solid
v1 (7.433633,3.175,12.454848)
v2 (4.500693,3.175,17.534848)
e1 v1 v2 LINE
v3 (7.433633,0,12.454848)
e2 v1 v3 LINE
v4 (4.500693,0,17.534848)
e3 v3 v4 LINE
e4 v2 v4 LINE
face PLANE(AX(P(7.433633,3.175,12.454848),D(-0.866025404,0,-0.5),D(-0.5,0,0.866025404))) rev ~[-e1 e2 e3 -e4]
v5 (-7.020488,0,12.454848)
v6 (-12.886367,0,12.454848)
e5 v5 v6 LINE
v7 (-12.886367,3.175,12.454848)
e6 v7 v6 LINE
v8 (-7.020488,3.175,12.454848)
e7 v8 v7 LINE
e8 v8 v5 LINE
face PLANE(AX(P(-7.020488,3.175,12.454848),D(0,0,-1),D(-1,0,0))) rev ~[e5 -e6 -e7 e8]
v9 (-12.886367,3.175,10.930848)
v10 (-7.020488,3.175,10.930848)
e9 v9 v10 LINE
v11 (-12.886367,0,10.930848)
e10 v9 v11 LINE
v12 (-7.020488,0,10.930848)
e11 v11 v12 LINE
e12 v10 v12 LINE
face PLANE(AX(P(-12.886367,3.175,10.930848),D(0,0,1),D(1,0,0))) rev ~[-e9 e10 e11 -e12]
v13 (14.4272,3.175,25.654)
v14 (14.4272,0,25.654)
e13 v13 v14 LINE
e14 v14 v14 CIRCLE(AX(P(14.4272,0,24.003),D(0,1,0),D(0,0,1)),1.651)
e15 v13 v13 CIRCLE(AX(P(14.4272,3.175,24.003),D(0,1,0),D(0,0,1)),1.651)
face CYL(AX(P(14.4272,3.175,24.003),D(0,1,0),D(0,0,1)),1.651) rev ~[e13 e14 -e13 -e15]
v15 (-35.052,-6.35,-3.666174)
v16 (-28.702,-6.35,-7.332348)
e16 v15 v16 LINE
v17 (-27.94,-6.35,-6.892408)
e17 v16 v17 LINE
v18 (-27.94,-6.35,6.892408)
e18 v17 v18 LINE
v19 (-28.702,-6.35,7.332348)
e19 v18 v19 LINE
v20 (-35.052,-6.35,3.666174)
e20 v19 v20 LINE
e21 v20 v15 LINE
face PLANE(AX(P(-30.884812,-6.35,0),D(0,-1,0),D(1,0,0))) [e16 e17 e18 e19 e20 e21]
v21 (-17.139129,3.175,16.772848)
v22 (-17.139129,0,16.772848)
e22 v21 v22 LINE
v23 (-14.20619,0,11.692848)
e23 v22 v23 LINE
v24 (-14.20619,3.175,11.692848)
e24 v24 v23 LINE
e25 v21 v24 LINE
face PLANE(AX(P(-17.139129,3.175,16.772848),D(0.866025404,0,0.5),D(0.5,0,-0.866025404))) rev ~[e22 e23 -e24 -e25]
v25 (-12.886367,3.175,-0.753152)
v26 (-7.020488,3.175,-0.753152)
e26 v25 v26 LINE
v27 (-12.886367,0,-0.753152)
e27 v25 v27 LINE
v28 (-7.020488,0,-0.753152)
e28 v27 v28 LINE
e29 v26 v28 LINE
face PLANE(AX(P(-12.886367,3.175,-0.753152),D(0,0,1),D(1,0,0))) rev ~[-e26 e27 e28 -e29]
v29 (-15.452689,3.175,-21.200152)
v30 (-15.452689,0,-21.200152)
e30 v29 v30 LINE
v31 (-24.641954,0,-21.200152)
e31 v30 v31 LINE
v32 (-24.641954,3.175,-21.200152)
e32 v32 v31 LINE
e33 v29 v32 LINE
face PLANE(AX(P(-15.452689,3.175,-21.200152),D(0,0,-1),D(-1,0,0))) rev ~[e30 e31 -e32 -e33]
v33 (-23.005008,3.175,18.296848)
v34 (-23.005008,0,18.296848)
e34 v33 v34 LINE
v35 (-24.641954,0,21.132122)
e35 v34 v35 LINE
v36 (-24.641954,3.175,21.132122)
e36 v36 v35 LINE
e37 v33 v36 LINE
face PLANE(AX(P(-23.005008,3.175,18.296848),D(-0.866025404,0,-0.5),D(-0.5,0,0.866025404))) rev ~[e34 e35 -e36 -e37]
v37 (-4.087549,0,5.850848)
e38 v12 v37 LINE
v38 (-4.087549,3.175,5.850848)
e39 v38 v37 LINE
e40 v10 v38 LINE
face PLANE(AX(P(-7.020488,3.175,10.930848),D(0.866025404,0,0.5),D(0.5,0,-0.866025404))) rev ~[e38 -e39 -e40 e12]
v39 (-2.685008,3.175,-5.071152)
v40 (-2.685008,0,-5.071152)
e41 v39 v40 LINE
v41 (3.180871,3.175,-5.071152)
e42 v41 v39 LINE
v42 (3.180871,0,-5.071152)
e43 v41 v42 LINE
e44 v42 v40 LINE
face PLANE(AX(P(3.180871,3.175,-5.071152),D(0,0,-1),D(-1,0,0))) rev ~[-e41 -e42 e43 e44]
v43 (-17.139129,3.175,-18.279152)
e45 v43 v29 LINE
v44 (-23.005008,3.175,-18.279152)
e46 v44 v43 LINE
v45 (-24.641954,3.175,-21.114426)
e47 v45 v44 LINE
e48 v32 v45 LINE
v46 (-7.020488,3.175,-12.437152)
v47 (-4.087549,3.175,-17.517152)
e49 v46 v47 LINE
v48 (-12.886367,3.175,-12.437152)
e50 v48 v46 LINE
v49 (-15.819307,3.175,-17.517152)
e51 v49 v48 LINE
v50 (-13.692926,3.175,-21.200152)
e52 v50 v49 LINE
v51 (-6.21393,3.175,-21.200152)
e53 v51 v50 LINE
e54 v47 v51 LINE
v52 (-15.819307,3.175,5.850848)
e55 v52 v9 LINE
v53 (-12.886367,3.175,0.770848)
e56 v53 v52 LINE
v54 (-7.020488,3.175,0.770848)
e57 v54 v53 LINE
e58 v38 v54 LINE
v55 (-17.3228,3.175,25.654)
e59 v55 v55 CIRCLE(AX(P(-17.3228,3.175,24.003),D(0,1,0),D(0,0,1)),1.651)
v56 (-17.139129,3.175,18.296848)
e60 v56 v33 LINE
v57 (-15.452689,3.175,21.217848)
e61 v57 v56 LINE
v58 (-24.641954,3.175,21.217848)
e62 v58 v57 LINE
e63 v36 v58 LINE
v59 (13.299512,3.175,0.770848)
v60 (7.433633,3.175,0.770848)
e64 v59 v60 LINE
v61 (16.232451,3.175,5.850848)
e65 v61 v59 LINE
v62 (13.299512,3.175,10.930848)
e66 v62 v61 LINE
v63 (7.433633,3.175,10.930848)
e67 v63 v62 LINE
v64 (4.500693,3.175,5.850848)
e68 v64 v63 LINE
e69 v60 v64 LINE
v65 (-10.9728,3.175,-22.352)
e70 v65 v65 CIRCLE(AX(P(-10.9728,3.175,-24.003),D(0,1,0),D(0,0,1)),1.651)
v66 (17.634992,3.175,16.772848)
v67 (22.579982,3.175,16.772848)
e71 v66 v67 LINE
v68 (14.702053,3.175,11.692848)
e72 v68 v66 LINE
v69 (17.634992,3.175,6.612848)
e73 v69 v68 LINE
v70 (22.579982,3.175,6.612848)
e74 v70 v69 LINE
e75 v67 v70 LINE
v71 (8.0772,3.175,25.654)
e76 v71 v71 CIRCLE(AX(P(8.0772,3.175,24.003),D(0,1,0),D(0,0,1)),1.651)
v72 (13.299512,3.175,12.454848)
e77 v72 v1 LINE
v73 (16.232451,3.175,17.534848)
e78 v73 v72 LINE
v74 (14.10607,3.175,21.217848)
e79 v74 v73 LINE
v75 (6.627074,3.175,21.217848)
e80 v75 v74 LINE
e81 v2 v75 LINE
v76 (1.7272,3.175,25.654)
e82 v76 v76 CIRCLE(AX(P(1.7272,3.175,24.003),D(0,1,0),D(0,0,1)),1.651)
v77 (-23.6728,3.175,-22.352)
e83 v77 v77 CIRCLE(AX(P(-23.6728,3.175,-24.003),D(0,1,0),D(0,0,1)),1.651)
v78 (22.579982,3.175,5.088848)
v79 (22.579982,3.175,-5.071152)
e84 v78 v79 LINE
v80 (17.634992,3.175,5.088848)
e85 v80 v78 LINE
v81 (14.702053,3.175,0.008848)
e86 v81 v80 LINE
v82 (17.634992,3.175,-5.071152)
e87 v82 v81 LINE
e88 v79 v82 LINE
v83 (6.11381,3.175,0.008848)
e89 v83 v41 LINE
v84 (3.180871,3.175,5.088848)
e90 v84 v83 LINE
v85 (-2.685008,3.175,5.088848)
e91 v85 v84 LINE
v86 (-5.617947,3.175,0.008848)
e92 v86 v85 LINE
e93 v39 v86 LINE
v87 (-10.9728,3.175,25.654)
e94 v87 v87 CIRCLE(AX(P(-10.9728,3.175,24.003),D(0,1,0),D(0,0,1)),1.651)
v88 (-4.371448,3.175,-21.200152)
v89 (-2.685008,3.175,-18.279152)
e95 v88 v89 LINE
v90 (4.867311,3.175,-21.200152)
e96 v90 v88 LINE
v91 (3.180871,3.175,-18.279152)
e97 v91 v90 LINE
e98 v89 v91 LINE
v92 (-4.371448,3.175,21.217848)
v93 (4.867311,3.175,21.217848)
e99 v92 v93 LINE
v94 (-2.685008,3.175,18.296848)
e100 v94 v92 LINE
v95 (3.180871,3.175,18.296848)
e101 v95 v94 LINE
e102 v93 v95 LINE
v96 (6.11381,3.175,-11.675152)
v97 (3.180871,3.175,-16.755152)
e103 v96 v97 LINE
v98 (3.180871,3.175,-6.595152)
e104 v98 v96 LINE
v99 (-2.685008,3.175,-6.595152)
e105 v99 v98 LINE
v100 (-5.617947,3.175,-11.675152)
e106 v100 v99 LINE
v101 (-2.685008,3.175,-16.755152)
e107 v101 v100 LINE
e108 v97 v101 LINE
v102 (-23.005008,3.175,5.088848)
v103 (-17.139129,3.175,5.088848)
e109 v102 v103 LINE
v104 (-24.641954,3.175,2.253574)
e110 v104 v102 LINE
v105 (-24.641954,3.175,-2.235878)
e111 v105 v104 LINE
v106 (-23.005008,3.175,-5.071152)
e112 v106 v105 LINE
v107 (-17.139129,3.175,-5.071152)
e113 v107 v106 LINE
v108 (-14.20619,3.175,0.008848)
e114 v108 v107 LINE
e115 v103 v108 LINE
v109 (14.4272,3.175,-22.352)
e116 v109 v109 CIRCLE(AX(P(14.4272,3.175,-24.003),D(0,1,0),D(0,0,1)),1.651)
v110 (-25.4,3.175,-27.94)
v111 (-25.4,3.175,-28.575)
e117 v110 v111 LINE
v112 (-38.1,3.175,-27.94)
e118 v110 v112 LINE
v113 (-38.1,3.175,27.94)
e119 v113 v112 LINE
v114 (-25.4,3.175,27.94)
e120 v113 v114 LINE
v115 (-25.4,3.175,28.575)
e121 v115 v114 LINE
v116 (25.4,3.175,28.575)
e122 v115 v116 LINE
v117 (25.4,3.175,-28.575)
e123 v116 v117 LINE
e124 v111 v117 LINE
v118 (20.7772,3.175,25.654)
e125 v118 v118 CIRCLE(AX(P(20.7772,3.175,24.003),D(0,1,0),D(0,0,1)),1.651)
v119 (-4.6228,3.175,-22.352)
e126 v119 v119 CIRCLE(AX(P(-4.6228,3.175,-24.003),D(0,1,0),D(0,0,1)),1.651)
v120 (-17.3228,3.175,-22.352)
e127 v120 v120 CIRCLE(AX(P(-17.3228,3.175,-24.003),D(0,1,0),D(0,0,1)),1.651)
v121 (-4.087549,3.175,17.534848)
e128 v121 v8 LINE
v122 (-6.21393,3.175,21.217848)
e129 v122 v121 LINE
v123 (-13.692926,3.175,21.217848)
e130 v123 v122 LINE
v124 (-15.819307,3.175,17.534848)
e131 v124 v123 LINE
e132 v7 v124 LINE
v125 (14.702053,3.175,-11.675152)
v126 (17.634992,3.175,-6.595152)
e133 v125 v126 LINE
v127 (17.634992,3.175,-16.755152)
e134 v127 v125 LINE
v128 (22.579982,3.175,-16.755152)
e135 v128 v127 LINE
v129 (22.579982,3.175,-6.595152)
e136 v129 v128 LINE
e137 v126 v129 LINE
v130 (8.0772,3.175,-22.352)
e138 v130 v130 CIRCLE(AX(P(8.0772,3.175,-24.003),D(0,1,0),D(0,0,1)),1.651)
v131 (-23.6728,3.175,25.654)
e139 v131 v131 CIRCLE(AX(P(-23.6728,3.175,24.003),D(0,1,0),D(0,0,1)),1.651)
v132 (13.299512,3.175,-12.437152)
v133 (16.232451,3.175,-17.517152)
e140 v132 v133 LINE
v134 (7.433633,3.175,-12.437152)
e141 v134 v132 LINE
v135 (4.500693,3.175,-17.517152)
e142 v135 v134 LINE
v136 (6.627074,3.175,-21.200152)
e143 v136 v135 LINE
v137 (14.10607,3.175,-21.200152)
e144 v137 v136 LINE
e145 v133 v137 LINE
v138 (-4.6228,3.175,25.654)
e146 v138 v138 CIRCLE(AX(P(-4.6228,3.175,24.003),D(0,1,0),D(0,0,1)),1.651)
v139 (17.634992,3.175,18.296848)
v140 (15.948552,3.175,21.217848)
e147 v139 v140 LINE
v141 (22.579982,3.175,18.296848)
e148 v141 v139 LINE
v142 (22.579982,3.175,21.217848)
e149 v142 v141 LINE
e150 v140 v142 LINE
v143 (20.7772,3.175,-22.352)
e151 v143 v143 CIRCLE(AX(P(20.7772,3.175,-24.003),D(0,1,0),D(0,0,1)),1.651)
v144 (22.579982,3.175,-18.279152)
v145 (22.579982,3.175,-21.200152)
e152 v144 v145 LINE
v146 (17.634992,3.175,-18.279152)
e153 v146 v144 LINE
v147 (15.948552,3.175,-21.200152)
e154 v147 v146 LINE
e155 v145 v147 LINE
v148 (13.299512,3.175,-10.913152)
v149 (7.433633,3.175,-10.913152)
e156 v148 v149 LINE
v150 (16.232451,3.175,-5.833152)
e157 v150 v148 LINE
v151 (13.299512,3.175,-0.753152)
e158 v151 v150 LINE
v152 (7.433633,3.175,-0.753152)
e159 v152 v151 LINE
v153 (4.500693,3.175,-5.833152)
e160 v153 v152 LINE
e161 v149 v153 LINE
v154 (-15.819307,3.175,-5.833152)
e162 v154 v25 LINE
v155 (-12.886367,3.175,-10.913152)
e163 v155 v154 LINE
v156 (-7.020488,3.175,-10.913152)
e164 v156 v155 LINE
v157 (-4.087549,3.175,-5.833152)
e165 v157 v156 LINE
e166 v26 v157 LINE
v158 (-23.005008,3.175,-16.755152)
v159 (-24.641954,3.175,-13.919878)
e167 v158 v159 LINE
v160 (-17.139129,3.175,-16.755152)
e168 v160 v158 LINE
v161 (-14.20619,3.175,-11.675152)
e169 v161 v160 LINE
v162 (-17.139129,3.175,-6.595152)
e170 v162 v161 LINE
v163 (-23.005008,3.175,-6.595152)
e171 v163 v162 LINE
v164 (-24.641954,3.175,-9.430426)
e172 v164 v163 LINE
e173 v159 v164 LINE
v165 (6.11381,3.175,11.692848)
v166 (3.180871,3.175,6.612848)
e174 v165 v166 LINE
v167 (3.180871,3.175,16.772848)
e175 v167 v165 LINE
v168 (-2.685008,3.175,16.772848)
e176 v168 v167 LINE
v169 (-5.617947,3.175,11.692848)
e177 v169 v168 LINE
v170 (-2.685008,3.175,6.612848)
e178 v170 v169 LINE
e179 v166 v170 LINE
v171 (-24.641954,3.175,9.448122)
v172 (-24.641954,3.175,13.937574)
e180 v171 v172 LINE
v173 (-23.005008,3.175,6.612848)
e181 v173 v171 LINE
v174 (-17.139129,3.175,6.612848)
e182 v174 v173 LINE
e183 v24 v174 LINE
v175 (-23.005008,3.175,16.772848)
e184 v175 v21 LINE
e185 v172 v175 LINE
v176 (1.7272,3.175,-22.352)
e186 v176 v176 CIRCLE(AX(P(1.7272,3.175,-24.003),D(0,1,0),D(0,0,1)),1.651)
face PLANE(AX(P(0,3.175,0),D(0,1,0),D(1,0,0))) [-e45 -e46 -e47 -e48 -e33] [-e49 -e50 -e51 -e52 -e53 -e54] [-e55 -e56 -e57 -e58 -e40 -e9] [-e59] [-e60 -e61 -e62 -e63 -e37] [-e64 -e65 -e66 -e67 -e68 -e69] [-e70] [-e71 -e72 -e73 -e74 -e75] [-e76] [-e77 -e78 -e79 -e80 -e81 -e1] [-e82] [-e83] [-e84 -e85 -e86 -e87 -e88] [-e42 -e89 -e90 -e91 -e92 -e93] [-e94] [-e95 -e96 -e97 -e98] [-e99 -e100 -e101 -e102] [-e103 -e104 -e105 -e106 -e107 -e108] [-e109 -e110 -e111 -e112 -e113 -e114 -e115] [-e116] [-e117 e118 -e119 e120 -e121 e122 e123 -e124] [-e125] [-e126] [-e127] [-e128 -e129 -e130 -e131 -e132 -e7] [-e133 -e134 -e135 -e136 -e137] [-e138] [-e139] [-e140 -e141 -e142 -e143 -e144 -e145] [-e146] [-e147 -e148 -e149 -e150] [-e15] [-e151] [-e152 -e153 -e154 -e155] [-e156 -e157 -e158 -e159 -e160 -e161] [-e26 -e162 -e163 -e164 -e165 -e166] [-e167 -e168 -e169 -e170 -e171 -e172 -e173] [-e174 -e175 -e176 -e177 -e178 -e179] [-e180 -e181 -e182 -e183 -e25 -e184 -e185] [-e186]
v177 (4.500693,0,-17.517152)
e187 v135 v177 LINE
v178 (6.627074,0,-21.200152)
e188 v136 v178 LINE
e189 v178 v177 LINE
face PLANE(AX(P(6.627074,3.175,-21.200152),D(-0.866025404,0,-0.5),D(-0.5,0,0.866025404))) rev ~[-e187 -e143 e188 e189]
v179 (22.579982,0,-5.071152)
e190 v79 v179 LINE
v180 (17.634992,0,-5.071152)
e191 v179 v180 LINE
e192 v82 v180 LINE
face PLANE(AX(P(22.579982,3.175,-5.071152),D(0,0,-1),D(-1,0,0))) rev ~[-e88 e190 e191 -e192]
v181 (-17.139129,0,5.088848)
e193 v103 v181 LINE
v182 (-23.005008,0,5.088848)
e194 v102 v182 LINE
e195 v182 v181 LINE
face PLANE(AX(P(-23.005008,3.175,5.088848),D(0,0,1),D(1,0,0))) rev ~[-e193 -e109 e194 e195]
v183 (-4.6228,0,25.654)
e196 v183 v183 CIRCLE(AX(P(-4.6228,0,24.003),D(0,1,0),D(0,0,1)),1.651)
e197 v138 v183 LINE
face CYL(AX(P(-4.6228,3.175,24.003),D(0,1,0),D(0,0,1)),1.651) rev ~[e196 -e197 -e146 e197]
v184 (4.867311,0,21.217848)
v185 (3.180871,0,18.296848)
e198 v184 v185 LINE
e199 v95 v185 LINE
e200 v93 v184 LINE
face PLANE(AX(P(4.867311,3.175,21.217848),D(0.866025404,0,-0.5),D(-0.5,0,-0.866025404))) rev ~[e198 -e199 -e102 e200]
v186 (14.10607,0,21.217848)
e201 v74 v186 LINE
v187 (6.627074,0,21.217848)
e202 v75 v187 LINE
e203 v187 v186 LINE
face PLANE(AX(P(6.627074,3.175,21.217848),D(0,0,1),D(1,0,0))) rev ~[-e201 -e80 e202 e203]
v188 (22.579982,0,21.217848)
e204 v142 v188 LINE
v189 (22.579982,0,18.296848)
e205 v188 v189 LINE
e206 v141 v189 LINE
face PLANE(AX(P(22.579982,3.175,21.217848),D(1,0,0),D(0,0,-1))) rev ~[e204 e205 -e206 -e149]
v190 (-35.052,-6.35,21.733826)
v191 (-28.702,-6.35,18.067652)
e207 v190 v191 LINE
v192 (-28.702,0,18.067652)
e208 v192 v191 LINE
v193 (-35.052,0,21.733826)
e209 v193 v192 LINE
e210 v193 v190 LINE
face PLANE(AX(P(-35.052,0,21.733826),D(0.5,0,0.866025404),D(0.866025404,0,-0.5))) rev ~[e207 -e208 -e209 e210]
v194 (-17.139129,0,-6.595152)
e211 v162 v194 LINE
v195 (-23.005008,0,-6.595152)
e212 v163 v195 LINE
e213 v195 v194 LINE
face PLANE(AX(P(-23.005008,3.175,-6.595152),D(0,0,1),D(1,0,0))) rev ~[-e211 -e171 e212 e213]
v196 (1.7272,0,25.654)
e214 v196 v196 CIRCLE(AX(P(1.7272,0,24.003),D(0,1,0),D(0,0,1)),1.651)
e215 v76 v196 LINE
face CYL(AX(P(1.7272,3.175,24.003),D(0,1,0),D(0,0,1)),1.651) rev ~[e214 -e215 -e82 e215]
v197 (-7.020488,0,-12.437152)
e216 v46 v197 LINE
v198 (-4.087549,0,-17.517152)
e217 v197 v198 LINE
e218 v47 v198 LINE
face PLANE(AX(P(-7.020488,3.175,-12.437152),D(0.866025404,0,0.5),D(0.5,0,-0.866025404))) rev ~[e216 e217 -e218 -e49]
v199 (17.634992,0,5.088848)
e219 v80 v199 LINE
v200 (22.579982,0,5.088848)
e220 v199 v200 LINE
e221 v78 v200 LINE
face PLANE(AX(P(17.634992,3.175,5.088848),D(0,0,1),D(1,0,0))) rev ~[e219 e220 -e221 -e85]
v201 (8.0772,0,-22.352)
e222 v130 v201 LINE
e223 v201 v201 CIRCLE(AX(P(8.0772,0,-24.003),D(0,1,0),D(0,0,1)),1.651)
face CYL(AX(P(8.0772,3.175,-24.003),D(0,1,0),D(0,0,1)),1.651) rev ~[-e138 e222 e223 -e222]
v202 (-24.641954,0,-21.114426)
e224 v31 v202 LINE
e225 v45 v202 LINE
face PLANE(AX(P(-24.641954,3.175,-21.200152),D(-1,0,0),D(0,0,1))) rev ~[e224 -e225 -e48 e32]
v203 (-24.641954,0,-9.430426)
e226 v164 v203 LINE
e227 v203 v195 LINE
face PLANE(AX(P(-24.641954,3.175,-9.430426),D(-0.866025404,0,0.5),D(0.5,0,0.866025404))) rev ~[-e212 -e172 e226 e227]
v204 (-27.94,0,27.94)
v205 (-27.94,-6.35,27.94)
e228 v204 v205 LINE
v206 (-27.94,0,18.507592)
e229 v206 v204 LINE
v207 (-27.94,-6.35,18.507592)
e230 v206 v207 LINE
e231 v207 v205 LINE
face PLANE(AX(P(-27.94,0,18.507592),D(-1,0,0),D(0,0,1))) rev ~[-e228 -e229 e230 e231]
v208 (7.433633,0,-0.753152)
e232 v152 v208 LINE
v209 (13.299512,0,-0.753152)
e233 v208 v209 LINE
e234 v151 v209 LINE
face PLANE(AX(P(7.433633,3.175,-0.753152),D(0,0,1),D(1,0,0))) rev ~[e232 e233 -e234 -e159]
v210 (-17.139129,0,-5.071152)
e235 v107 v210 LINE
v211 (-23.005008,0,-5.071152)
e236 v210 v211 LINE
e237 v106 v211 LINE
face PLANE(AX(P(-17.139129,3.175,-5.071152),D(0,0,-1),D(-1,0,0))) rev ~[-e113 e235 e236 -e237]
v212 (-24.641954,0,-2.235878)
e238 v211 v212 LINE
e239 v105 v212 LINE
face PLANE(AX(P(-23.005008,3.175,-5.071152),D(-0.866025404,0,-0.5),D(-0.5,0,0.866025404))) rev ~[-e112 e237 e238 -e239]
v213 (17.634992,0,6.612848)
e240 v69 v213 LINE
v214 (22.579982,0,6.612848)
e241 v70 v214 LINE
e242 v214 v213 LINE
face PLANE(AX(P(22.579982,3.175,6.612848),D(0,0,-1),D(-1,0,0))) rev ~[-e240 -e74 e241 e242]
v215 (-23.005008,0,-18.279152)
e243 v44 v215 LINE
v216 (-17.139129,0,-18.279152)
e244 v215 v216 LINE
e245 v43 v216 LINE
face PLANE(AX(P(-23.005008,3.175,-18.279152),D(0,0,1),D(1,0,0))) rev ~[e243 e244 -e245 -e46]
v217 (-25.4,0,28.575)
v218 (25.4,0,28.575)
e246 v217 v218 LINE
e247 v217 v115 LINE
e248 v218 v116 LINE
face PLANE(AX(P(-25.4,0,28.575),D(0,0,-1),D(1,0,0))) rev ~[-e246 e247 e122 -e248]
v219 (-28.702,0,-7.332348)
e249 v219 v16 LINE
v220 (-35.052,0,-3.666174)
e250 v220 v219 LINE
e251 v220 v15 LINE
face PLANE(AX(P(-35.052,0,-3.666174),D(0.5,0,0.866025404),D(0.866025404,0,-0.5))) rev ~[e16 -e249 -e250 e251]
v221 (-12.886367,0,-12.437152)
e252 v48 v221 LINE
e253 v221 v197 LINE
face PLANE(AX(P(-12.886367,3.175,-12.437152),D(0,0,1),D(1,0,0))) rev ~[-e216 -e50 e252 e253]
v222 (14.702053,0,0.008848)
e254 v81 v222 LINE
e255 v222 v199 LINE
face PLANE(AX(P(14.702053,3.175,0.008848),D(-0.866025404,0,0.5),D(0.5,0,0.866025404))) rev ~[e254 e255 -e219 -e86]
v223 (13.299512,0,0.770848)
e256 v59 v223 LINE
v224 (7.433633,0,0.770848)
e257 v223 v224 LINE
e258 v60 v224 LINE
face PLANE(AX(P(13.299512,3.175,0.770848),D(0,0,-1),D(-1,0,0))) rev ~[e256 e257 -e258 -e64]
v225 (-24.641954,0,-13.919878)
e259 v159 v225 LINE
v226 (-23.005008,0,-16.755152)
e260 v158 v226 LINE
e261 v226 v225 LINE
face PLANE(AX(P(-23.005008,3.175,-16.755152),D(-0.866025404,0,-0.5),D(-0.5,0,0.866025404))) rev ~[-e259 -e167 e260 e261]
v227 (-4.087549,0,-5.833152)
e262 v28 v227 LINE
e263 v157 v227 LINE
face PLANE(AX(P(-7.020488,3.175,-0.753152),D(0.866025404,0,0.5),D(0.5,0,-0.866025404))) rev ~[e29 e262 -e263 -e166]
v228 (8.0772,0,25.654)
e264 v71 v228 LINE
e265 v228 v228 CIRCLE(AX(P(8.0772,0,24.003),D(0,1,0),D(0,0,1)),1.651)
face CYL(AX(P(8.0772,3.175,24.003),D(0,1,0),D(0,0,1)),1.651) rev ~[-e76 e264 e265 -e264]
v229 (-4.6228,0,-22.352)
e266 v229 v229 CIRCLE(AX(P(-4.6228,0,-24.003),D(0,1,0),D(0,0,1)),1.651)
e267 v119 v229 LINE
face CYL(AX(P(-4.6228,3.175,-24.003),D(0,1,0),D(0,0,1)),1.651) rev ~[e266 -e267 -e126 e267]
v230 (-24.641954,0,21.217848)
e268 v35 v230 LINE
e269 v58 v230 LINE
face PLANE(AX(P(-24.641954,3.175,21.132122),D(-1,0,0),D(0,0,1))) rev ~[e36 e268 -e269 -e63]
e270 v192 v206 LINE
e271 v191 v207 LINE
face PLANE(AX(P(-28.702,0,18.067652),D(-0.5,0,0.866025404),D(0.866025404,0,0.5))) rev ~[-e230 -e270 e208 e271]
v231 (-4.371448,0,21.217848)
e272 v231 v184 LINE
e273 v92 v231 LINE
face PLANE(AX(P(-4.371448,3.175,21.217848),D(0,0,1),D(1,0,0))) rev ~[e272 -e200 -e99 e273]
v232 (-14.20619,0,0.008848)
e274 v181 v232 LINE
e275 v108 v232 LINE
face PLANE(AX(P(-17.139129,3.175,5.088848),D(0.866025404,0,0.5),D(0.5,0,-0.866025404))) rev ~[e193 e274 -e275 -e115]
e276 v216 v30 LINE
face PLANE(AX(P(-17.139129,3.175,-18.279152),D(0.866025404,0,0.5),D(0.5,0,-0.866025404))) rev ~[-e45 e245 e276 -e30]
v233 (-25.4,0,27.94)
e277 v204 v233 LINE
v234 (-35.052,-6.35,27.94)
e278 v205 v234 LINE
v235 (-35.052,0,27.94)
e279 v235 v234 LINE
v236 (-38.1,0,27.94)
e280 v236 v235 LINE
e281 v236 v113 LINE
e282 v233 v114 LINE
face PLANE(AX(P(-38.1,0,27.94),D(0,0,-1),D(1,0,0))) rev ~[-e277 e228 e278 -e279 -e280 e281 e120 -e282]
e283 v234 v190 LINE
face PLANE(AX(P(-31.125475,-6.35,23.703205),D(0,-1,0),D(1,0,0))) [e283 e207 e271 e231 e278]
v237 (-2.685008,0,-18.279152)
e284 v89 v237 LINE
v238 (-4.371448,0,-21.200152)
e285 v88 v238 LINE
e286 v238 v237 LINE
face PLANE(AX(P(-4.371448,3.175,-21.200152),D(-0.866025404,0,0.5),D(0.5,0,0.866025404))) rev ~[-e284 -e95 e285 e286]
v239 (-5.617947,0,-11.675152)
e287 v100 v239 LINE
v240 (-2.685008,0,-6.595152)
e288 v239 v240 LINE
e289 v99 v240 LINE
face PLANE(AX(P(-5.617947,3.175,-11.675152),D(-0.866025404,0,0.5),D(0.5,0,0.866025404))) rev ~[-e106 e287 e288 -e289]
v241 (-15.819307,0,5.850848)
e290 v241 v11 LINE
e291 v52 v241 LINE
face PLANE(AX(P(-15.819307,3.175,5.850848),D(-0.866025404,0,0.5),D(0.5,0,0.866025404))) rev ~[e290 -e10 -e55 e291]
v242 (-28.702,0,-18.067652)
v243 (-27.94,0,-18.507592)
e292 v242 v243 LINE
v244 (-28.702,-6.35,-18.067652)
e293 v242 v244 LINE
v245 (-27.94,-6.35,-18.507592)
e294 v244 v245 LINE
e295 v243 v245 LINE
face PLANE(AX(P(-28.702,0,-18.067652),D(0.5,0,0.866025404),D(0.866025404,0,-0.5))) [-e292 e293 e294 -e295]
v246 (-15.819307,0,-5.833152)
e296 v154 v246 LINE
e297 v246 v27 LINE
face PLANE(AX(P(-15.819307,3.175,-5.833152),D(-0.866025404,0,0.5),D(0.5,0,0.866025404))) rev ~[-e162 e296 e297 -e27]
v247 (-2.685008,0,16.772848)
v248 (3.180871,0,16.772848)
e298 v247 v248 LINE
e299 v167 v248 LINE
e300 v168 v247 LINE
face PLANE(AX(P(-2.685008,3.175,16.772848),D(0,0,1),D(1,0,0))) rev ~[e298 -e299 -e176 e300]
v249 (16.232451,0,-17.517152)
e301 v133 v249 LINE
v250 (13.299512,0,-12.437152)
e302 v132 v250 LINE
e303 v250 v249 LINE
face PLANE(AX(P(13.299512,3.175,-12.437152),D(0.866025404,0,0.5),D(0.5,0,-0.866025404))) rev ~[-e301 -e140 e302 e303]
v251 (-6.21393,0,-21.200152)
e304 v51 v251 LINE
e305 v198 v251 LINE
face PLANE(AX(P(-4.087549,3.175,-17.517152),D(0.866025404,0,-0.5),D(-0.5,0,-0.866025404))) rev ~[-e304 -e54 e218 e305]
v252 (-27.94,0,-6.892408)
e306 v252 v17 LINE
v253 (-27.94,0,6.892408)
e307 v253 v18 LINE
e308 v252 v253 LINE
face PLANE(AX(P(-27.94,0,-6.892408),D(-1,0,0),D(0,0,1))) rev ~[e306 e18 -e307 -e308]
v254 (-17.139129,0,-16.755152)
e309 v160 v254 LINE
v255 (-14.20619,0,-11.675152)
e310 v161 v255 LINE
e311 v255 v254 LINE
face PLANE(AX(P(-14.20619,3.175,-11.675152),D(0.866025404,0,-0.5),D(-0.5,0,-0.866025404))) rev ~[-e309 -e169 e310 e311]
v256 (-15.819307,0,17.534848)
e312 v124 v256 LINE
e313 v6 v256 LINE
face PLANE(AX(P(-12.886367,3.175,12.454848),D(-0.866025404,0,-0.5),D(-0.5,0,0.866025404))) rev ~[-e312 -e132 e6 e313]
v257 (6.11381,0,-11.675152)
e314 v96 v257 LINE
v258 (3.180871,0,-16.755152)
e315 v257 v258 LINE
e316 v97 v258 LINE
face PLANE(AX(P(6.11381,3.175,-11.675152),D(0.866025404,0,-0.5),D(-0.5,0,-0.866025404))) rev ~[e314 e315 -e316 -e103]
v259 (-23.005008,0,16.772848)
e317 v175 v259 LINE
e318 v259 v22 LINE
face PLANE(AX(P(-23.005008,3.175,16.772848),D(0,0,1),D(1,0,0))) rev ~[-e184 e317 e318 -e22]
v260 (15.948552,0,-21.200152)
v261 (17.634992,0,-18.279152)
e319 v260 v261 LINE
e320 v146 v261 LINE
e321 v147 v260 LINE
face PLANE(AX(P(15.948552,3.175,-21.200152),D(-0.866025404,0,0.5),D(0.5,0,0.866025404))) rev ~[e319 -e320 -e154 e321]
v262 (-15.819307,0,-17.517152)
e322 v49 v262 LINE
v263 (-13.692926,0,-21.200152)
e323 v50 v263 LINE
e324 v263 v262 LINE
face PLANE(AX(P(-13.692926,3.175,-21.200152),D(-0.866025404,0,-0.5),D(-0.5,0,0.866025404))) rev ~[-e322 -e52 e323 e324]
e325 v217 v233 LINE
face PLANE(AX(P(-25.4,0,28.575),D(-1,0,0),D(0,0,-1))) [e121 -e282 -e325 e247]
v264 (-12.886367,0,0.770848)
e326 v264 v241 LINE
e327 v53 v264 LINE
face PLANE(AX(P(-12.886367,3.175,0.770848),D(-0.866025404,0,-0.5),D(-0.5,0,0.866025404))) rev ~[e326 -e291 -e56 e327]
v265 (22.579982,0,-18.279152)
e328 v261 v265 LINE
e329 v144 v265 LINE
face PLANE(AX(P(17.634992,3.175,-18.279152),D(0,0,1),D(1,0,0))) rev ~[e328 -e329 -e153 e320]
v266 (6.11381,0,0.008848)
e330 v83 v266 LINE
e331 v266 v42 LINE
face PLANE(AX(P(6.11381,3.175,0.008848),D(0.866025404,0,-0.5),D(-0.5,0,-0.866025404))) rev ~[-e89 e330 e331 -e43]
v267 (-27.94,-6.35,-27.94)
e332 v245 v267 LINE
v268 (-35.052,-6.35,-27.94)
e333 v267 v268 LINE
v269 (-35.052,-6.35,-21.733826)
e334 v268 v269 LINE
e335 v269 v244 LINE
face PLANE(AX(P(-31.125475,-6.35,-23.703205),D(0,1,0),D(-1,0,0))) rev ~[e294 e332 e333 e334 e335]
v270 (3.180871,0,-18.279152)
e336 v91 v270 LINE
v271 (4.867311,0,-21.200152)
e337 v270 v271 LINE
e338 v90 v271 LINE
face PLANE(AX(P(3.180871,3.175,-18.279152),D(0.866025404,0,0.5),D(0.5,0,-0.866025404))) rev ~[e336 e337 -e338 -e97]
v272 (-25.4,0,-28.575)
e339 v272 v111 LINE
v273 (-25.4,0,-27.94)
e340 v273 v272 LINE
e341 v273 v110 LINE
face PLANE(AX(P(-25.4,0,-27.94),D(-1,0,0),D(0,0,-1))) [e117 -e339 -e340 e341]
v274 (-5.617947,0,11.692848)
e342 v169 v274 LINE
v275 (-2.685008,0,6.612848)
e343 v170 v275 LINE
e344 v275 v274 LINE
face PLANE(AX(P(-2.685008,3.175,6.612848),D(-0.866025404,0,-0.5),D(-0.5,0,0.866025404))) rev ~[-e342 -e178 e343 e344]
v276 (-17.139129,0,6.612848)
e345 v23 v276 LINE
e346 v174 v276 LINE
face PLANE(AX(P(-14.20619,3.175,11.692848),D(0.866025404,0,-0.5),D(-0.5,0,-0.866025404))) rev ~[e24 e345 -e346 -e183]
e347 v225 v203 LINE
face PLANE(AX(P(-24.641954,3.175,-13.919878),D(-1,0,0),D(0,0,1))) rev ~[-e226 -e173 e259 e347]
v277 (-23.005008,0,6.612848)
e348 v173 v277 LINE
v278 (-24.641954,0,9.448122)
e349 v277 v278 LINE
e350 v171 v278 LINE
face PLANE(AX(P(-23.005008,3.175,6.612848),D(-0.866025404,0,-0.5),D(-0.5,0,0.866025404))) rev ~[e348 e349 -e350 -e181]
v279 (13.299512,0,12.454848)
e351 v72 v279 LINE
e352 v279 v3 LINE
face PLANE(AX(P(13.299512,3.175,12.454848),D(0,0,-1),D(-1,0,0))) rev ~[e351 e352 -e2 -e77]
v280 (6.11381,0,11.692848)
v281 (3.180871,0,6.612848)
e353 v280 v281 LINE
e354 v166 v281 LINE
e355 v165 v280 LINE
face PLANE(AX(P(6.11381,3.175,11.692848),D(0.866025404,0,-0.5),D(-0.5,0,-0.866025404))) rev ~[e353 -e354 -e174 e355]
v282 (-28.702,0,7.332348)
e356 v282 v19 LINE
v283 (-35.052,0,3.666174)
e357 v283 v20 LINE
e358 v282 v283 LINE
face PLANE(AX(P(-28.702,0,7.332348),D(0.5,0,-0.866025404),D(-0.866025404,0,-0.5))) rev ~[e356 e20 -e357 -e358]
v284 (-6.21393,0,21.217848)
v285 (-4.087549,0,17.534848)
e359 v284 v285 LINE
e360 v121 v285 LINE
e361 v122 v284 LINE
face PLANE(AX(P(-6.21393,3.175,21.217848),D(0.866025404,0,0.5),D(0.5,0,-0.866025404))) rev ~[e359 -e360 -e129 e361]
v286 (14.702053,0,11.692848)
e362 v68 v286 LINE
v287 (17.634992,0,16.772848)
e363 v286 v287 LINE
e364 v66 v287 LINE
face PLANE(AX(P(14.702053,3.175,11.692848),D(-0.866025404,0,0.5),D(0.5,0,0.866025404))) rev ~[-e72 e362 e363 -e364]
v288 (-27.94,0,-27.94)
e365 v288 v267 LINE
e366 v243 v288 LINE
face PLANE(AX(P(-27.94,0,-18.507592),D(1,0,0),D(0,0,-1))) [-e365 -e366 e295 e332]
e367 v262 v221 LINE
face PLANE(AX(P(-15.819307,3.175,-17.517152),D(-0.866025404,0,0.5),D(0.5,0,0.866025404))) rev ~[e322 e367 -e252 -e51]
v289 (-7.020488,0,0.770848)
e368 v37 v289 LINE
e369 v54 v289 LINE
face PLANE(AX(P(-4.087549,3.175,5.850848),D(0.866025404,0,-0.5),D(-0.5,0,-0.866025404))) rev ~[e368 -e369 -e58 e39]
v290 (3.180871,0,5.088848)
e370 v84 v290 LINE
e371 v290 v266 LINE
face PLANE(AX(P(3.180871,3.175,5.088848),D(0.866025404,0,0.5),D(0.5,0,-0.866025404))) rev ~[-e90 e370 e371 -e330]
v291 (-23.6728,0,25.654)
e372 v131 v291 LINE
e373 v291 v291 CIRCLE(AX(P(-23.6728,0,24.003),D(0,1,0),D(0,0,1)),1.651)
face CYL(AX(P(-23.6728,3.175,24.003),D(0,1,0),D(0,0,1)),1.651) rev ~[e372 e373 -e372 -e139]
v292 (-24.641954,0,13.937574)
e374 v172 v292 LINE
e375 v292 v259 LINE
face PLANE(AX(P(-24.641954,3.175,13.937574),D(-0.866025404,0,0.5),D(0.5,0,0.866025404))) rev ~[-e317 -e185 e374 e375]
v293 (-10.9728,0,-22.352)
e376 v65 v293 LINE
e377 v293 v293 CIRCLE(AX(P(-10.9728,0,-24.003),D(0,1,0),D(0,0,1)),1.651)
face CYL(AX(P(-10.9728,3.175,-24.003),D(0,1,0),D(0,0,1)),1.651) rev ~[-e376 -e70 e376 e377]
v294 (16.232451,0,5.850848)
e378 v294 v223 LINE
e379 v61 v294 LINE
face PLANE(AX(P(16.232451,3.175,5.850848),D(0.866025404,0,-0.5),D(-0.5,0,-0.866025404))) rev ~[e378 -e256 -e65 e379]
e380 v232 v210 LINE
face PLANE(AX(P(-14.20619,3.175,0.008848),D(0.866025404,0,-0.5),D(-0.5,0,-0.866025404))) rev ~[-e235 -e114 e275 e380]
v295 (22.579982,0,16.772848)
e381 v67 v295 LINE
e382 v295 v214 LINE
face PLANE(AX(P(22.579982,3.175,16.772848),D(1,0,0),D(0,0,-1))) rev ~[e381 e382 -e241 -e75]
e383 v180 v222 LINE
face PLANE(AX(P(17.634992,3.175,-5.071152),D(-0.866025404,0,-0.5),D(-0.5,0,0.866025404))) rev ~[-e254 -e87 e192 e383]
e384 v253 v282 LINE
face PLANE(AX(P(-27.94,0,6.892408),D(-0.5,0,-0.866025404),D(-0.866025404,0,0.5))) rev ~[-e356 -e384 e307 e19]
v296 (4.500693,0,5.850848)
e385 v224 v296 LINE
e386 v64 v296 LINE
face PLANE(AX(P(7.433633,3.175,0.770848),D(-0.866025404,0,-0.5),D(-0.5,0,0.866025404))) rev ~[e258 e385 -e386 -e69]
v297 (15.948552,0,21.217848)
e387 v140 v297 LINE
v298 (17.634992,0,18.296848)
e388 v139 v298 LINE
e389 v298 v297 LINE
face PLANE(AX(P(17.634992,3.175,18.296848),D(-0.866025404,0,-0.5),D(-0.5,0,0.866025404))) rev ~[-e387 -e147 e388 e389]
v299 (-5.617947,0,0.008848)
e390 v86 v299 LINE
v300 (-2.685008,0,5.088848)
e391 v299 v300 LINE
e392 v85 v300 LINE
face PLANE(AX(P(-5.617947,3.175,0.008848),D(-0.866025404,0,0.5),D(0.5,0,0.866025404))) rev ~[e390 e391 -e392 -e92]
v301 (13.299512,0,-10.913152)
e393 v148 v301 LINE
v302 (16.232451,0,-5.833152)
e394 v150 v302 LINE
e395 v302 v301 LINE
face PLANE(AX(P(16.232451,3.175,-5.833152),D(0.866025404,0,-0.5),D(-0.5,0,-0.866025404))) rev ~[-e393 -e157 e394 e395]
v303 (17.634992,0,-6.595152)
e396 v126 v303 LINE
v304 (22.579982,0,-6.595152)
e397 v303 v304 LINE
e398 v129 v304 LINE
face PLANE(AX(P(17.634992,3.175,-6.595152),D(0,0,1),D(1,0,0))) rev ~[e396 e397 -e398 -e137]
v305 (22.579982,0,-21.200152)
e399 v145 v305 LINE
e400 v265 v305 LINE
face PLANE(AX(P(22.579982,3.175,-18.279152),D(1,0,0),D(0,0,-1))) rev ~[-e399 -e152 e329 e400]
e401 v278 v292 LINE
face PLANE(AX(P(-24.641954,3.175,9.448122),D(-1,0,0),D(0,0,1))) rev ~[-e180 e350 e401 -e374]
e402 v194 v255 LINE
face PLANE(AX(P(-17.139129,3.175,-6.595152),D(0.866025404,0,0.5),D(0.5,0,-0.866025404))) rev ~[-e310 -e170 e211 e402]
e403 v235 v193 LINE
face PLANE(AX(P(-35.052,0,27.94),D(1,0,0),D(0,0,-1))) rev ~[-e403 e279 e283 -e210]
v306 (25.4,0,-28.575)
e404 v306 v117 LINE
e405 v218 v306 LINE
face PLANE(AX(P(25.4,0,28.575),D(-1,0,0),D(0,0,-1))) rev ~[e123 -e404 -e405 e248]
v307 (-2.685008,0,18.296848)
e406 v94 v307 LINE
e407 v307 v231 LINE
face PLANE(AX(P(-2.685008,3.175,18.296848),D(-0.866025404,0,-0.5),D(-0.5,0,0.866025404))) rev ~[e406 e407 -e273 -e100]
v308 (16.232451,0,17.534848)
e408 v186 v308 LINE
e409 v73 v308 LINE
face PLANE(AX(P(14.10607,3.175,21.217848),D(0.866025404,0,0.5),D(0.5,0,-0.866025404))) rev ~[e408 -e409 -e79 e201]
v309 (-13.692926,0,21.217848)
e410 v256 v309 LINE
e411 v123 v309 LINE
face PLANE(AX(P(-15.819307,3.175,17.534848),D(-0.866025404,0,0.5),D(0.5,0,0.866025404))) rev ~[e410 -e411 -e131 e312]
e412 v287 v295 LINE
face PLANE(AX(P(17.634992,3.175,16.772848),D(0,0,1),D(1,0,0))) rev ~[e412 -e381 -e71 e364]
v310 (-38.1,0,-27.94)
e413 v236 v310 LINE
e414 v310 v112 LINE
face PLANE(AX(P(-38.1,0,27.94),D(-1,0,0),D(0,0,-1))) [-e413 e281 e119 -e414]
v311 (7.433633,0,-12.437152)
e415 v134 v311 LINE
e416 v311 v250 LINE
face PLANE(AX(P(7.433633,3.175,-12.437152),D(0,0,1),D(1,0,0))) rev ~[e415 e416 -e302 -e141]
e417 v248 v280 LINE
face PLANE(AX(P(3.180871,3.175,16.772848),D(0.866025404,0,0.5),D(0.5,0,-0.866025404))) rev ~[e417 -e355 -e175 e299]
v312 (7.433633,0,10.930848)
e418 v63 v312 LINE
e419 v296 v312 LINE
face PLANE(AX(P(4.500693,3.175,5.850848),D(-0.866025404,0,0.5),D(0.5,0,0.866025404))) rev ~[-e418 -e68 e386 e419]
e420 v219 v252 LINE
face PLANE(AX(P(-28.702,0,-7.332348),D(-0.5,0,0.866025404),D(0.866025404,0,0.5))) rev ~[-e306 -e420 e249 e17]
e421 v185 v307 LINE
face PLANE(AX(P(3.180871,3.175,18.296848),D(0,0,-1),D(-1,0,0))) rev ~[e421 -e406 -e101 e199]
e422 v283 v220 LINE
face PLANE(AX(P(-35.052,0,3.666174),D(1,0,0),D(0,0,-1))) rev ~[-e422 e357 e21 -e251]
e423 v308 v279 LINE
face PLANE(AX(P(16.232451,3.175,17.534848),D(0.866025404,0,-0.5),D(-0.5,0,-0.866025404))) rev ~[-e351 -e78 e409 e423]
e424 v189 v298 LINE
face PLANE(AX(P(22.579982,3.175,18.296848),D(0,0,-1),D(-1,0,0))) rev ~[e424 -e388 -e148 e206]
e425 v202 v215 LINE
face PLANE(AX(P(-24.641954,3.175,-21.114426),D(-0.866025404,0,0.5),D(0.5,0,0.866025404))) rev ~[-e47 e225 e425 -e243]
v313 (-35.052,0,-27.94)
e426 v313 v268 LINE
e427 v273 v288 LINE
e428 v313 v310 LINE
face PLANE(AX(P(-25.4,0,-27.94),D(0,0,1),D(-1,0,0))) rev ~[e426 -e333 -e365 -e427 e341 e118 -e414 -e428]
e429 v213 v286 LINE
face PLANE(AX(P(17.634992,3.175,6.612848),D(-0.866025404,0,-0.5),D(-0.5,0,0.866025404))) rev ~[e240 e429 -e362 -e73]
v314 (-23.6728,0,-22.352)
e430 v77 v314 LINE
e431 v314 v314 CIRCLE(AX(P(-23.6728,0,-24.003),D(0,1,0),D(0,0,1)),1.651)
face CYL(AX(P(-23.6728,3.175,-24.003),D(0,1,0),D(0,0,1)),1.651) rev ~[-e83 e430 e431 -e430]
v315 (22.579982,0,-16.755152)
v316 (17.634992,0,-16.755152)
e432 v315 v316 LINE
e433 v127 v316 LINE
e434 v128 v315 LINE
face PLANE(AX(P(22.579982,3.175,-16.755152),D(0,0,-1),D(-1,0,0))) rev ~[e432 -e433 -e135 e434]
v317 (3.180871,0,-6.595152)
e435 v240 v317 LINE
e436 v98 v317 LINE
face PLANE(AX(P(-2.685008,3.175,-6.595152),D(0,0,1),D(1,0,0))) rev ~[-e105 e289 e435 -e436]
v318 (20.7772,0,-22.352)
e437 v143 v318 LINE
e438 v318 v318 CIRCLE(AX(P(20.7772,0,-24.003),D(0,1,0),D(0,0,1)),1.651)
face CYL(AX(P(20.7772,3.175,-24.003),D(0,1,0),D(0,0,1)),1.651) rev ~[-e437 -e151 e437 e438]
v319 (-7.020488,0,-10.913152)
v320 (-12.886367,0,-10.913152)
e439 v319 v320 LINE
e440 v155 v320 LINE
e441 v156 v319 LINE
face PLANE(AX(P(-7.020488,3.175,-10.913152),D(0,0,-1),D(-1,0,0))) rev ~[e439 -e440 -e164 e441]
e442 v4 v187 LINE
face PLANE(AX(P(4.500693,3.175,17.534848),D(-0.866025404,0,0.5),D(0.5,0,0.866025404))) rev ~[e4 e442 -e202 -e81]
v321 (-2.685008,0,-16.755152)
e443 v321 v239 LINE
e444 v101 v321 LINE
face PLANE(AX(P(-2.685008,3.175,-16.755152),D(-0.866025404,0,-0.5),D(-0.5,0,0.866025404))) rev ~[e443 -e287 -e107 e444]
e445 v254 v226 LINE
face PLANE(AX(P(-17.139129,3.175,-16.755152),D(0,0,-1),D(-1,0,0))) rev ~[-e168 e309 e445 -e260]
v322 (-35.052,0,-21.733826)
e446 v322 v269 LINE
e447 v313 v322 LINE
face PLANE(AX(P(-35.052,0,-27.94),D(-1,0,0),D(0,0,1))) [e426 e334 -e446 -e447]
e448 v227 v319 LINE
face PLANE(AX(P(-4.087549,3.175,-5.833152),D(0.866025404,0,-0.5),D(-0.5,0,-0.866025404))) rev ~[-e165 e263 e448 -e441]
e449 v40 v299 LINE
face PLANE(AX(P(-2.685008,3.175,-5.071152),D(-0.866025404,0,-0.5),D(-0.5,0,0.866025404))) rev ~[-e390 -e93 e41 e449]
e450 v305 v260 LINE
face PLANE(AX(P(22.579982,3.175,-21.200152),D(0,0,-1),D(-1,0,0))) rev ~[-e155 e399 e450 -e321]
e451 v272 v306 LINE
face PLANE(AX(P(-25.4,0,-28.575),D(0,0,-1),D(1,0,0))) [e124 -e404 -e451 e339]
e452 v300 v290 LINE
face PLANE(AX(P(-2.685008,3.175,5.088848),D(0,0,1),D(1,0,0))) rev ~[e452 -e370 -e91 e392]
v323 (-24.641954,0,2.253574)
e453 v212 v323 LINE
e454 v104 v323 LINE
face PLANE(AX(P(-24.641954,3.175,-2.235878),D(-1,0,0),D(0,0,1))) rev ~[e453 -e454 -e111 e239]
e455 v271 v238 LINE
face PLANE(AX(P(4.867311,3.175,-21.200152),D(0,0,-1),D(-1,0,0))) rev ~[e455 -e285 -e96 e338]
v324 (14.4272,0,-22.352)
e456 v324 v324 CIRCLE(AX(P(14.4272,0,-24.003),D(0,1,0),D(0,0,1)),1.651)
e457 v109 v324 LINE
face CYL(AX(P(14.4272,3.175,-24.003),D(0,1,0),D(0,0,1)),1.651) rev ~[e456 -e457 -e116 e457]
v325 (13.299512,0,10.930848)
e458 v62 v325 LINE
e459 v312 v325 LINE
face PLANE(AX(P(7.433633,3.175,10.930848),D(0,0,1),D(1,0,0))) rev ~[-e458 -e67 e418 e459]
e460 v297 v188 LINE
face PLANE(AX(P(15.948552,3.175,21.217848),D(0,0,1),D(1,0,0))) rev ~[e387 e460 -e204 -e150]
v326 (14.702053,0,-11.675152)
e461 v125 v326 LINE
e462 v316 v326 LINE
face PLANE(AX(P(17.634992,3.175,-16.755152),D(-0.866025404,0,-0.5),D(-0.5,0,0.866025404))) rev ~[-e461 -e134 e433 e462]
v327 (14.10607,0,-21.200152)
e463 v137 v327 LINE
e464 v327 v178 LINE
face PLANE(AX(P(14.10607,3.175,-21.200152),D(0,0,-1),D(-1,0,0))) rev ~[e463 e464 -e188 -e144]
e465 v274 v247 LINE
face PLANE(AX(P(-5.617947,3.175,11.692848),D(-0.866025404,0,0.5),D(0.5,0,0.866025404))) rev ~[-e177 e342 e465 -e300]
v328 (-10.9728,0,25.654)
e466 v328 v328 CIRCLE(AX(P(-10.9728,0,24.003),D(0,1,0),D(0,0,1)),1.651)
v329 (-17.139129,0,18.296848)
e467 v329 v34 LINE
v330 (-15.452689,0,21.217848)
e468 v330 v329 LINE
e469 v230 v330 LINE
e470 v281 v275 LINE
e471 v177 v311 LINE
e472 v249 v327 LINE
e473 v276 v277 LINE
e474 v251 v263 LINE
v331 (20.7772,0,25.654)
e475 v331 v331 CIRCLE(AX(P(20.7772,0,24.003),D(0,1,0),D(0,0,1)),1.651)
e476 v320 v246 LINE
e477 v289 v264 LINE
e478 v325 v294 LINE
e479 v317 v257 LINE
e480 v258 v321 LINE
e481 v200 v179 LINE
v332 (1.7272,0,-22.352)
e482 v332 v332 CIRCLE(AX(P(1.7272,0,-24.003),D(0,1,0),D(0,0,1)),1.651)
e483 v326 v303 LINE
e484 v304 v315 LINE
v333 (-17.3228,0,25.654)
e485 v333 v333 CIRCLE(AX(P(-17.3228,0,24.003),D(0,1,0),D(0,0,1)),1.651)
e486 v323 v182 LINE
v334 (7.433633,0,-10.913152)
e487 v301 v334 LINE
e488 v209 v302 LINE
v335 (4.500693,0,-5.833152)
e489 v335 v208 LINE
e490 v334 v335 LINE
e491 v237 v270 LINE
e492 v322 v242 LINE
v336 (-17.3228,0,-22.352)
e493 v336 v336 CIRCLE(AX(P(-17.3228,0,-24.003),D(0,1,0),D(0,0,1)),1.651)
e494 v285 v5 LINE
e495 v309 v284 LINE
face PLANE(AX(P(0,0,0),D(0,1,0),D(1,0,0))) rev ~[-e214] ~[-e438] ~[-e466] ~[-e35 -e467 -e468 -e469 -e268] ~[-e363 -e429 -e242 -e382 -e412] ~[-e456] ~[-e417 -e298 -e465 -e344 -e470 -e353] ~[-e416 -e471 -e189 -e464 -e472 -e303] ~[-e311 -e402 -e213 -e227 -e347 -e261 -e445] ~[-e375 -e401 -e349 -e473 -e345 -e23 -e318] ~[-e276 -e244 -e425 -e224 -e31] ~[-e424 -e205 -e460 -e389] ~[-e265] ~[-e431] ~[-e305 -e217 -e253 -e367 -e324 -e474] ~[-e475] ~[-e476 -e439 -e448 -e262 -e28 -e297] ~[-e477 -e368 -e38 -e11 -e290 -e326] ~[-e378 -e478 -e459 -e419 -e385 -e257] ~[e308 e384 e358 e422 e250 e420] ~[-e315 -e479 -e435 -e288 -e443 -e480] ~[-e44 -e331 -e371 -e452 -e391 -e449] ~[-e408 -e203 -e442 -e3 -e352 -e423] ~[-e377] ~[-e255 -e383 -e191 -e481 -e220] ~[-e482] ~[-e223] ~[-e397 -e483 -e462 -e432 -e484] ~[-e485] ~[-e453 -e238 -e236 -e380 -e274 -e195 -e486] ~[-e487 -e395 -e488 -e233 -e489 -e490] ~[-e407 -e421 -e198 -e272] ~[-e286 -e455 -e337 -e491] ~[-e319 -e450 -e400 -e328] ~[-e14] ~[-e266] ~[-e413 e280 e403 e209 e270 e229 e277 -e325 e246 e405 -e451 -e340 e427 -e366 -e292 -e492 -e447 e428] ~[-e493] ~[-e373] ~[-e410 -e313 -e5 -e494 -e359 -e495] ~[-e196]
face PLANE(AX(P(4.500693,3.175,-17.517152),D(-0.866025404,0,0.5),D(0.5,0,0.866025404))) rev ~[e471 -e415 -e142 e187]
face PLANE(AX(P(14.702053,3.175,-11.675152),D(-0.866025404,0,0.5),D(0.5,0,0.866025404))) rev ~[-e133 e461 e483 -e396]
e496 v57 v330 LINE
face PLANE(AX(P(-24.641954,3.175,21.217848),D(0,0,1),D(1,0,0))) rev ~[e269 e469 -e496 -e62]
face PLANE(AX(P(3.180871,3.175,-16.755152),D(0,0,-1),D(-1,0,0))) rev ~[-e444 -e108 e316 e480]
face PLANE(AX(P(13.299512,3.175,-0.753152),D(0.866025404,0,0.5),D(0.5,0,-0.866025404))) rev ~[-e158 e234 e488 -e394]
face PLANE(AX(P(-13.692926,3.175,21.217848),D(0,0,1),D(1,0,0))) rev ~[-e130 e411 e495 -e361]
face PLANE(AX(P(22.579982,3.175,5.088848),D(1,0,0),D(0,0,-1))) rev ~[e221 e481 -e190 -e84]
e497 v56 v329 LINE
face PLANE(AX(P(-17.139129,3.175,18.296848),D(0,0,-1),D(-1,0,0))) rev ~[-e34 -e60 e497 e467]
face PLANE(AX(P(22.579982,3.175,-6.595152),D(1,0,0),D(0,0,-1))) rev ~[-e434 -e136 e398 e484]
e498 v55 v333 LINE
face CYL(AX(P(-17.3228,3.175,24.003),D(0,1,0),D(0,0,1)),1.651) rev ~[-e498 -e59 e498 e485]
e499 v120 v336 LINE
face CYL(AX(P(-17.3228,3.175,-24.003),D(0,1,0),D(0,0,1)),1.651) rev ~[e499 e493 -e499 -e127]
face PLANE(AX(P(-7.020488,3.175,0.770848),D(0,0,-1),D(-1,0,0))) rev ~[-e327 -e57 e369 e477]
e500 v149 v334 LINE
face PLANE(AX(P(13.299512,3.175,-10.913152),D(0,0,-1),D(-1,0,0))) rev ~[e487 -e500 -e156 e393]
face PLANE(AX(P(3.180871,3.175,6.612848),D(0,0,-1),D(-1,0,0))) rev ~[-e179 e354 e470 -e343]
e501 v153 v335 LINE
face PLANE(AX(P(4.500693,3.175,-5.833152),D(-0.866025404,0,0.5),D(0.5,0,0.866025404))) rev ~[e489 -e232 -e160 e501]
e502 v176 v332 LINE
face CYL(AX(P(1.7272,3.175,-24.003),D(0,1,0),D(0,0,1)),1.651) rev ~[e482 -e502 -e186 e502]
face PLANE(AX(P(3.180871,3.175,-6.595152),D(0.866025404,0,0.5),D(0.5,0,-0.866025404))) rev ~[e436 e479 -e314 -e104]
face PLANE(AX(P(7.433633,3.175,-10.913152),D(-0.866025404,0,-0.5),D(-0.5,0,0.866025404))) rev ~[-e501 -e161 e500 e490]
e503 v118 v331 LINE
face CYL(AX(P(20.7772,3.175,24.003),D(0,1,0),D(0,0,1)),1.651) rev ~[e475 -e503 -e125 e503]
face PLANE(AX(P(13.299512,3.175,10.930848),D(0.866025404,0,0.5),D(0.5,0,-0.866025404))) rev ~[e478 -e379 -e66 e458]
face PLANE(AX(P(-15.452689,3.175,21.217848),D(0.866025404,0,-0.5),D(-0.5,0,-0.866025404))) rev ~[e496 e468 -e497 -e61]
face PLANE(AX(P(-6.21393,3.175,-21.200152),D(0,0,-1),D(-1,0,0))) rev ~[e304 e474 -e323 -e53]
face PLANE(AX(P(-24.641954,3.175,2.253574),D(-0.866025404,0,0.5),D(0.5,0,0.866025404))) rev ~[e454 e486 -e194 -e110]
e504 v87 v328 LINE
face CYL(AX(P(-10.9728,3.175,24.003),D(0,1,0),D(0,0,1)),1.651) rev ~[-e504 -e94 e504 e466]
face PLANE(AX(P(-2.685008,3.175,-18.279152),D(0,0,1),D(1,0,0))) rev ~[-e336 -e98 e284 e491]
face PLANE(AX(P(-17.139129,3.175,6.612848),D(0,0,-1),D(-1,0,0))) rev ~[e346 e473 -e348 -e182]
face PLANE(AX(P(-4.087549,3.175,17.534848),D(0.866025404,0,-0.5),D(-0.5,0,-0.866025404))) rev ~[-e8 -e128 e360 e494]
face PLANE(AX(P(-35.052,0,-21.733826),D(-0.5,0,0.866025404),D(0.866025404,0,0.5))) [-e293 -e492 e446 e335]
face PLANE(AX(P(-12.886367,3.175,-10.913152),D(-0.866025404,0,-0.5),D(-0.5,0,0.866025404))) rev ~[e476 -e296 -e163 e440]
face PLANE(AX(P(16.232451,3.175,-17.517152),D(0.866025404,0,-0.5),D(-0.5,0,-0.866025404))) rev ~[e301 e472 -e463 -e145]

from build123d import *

# Parameters (mm, degrees)
SKETCH1_W           = 50.8
SKETCH1_H           = 57.15
SKETCH1_W_2         = 2.54
SKETCH1_H_2         = 55.88
SKETCH1_W_3         = 10.16
BOSS_EXTRUDE1_DEPTH = 3.175
BOSS_EXTRUDE2_DEPTH = 6.35
SKETCH3_R           = 1.651
CUT_EXTRUDE1_DEPTH  = 49.568160867
CUT_EXTRUDE2_DEPTH  = 49.568160867


with BuildPart() as part:
    # Sketch1 → Boss-Extrude1 (new body)
    with BuildSketch(Plane(origin=(0, 0, 0), x_dir=(1, 0, 0), z_dir=(0, 1, 0))):
        Rectangle(SKETCH1_W, SKETCH1_H)
        with Locations((-26.67, 0)):
            Rectangle(SKETCH1_W_2, SKETCH1_H_2)
        with Locations((-33.02, 0)):
            Rectangle(SKETCH1_W_3, SKETCH1_H_2)
    extrude(amount=BOSS_EXTRUDE1_DEPTH)

    # Sketch2 → Boss-Extrude2 (add)
    with BuildSketch(Plane.XZ):
        Polygon((-27.94, 6.892407514), (-28.702, 7.332348419), (-35.052, 3.666174209), (-35.052, -3.666174209), (-28.702, -7.332348419), (-27.94, -6.892407514), align=None)
        Polygon((-35.052, 27.94), (-35.052, 21.733825791), (-28.702, 18.067651581), (-27.94, 18.507592486), (-27.94, 27.94), align=None)
        Polygon((-27.94, -18.507592486), (-27.94, -27.94), (-35.052, -27.94), (-35.052, -21.733825791), (-28.702, -18.067651581), align=None)
    extrude(amount=BOSS_EXTRUDE2_DEPTH)

    # Sketch3 → Cut-Extrude1 (cut, through all)
    with BuildSketch(Plane(origin=(0, 3.175, 0), x_dir=(1, 0, 0), z_dir=(0, 1, 0))):
        with Locations(Location((20.7772, -24.003, 0), (0, 0, 270))):
            Circle(SKETCH3_R)
        with Locations(Location((14.4272, -24.003, 0), (0, 0, 270))):
            Circle(SKETCH3_R)
        with Locations(Location((8.0772, -24.003, 0), (0, 0, 270))):
            Circle(SKETCH3_R)
        with Locations(Location((1.7272, -24.003, 0), (0, 0, 270))):
            Circle(SKETCH3_R)
        with Locations(Location((-4.6228, -24.003, 0), (0, 0, 270))):
            Circle(SKETCH3_R)
        with Locations(Location((-10.9728, -24.003, 0), (0, 0, 270))):
            Circle(SKETCH3_R)
        with Locations(Location((-17.3228, -24.003, 0), (0, 0, 270))):
            Circle(SKETCH3_R)
        with Locations(Location((-23.6728, -24.003, 0), (0, 0, 270))):
            Circle(SKETCH3_R)
        with Locations(Location((-23.6728, 24.003, 0), (0, 0, 270))):
            Circle(SKETCH3_R)
        with Locations(Location((-17.3228, 24.003, 0), (0, 0, 270))):
            Circle(SKETCH3_R)
        with Locations(Location((-10.9728, 24.003, 0), (0, 0, 270))):
            Circle(SKETCH3_R)
        with Locations(Location((-4.6228, 24.003, 0), (0, 0, 270))):
            Circle(SKETCH3_R)
        with Locations(Location((1.7272, 24.003, 0), (0, 0, 270))):
            Circle(SKETCH3_R)
        with Locations(Location((8.0772, 24.003, 0), (0, 0, 270))):
            Circle(SKETCH3_R)
        with Locations(Location((14.4272, 24.003, 0), (0, 0, 270))):
            Circle(SKETCH3_R)
        with Locations(Location((20.7772, 24.003, 0), (0, 0, 270))):
            Circle(SKETCH3_R)
    extrude(amount=-CUT_EXTRUDE1_DEPTH, mode=Mode.SUBTRACT)

    # Sketch4 → Cut-Extrude2 (cut, through all)
    with BuildSketch(Plane(origin=(0, 3.175, 0), x_dir=(1, 0, 0), z_dir=(0, 1, 0))):
        Polygon((17.634991976, 18.279152345), (22.579981612, 18.279152345), (22.579981612, 21.200152345), (15.94855184, 21.200152345), align=None)
        Polygon((16.232450896, 17.517152345), (14.106069855, 21.200152345), (6.627074468, 21.200152345), (4.500693426, 17.517152345), (7.433632794, 12.437152345), (13.299511529, 12.437152345), align=None)
        Polygon((3.180870711, 18.279152345), (4.867310847, 21.200152345), (-4.37144816, 21.200152345), (-2.685008024, 18.279152345), align=None)
        Polygon((-4.087549104, 17.517152345), (-6.213930145, 21.200152345), (-13.692925532, 21.200152345), (-15.819306574, 17.517152345), (-12.886367206, 12.437152345), (-7.020488471, 12.437152345), align=None)
        Polygon((-17.139129289, 18.279152345), (-15.452689153, 21.200152345), (-24.641954227, 21.200152345), (-24.641954227, 21.114426338), (-23.005008024, 18.279152345), align=None)
        Polygon((-23.005008024, 16.755152345), (-24.641954227, 13.919878353), (-24.641954227, 9.430426338), (-23.005008024, 6.595152345), (-17.139129289, 6.595152345), (-14.206189922, 11.675152345), (-17.139129289, 16.755152345), align=None)
        Polygon((-23.005008024, 5.071152345), (-24.641954227, 2.235878353), (-24.641954227, -2.253573662), (-23.005008024, -5.088847655), (-17.139129289, -5.088847655), (-14.206189922, -0.008847655), (-17.139129289, 5.071152345), align=None)
        Polygon((-24.641954227, -9.448121647), (-24.641954227, -13.937573662), (-23.005008024, -16.772847655), (-17.139129289, -16.772847655), (-14.206189922, -11.692847655), (-17.139129289, -6.612847655), (-23.005008024, -6.612847655), align=None)
        Polygon((-24.641954227, -21.217847655), (-15.452689153, -21.217847655), (-17.139129289, -18.296847655), (-23.005008024, -18.296847655), (-24.641954227, -21.132121647), align=None)
        Polygon((-13.692925532, -21.217847655), (-6.213930145, -21.217847655), (-4.087549104, -17.534847655), (-7.020488471, -12.454847655), (-12.886367206, -12.454847655), (-15.819306574, -17.534847655), align=None)
        Polygon((-4.37144816, -21.217847655), (4.867310847, -21.217847655), (3.180870711, -18.296847655), (-2.685008024, -18.296847655), align=None)
        Polygon((6.627074468, -21.217847655), (14.106069855, -21.217847655), (16.232450896, -17.534847655), (13.299511529, -12.454847655), (7.433632794, -12.454847655), (4.500693426, -17.534847655), align=None)
        Polygon((22.579981612, -21.217847655), (22.579981612, -18.296847655), (17.634991976, -18.296847655), (15.94855184, -21.217847655), align=None)
        Polygon((22.579981612, -16.772847655), (22.579981612, -6.612847655), (17.634991976, -6.612847655), (14.702052608, -11.692847655), (17.634991976, -16.772847655), align=None)
        Polygon((22.579981612, -5.088847655), (22.579981612, 5.071152345), (17.634991976, 5.071152345), (14.702052608, -0.008847655), (17.634991976, -5.088847655), align=None)
        Polygon((17.634991976, 6.595152345), (22.579981612, 6.595152345), (22.579981612, 16.755152345), (17.634991976, 16.755152345), (14.702052608, 11.675152345), align=None)
        Polygon((4.500693426, 5.833152345), (7.433632794, 0.753152345), (13.299511529, 0.753152345), (16.232450896, 5.833152345), (13.299511529, 10.913152345), (7.433632794, 10.913152345), align=None)
        Polygon((-2.685008024, 6.595152345), (3.180870711, 6.595152345), (6.113810078, 11.675152345), (3.180870711, 16.755152345), (-2.685008024, 16.755152345), (-5.617947392, 11.675152345), align=None)
        Polygon((-2.685008024, -5.088847655), (3.180870711, -5.088847655), (6.113810078, -0.008847655), (3.180870711, 5.071152345), (-2.685008024, 5.071152345), (-5.617947392, -0.008847655), align=None)
        Polygon((4.500693426, -5.850847655), (7.433632794, -10.930847655), (13.299511529, -10.930847655), (16.232450896, -5.850847655), (13.299511529, -0.770847655), (7.433632794, -0.770847655), align=None)
        Polygon((-2.685008024, -16.772847655), (3.180870711, -16.772847655), (6.113810078, -11.692847655), (3.180870711, -6.612847655), (-2.685008024, -6.612847655), (-5.617947392, -11.692847655), align=None)
        Polygon((-15.819306574, -5.850847655), (-12.886367206, -10.930847655), (-7.020488471, -10.930847655), (-4.087549104, -5.850847655), (-7.020488471, -0.770847655), (-12.886367206, -0.770847655), align=None)
        Polygon((-15.819306574, 5.833152345), (-12.886367206, 0.753152345), (-7.020488471, 0.753152345), (-4.087549104, 5.833152345), (-7.020488471, 10.913152345), (-12.886367206, 10.913152345), align=None)
    extrude(amount=-CUT_EXTRUDE2_DEPTH, mode=Mode.SUBTRACT)


solid = part.part
